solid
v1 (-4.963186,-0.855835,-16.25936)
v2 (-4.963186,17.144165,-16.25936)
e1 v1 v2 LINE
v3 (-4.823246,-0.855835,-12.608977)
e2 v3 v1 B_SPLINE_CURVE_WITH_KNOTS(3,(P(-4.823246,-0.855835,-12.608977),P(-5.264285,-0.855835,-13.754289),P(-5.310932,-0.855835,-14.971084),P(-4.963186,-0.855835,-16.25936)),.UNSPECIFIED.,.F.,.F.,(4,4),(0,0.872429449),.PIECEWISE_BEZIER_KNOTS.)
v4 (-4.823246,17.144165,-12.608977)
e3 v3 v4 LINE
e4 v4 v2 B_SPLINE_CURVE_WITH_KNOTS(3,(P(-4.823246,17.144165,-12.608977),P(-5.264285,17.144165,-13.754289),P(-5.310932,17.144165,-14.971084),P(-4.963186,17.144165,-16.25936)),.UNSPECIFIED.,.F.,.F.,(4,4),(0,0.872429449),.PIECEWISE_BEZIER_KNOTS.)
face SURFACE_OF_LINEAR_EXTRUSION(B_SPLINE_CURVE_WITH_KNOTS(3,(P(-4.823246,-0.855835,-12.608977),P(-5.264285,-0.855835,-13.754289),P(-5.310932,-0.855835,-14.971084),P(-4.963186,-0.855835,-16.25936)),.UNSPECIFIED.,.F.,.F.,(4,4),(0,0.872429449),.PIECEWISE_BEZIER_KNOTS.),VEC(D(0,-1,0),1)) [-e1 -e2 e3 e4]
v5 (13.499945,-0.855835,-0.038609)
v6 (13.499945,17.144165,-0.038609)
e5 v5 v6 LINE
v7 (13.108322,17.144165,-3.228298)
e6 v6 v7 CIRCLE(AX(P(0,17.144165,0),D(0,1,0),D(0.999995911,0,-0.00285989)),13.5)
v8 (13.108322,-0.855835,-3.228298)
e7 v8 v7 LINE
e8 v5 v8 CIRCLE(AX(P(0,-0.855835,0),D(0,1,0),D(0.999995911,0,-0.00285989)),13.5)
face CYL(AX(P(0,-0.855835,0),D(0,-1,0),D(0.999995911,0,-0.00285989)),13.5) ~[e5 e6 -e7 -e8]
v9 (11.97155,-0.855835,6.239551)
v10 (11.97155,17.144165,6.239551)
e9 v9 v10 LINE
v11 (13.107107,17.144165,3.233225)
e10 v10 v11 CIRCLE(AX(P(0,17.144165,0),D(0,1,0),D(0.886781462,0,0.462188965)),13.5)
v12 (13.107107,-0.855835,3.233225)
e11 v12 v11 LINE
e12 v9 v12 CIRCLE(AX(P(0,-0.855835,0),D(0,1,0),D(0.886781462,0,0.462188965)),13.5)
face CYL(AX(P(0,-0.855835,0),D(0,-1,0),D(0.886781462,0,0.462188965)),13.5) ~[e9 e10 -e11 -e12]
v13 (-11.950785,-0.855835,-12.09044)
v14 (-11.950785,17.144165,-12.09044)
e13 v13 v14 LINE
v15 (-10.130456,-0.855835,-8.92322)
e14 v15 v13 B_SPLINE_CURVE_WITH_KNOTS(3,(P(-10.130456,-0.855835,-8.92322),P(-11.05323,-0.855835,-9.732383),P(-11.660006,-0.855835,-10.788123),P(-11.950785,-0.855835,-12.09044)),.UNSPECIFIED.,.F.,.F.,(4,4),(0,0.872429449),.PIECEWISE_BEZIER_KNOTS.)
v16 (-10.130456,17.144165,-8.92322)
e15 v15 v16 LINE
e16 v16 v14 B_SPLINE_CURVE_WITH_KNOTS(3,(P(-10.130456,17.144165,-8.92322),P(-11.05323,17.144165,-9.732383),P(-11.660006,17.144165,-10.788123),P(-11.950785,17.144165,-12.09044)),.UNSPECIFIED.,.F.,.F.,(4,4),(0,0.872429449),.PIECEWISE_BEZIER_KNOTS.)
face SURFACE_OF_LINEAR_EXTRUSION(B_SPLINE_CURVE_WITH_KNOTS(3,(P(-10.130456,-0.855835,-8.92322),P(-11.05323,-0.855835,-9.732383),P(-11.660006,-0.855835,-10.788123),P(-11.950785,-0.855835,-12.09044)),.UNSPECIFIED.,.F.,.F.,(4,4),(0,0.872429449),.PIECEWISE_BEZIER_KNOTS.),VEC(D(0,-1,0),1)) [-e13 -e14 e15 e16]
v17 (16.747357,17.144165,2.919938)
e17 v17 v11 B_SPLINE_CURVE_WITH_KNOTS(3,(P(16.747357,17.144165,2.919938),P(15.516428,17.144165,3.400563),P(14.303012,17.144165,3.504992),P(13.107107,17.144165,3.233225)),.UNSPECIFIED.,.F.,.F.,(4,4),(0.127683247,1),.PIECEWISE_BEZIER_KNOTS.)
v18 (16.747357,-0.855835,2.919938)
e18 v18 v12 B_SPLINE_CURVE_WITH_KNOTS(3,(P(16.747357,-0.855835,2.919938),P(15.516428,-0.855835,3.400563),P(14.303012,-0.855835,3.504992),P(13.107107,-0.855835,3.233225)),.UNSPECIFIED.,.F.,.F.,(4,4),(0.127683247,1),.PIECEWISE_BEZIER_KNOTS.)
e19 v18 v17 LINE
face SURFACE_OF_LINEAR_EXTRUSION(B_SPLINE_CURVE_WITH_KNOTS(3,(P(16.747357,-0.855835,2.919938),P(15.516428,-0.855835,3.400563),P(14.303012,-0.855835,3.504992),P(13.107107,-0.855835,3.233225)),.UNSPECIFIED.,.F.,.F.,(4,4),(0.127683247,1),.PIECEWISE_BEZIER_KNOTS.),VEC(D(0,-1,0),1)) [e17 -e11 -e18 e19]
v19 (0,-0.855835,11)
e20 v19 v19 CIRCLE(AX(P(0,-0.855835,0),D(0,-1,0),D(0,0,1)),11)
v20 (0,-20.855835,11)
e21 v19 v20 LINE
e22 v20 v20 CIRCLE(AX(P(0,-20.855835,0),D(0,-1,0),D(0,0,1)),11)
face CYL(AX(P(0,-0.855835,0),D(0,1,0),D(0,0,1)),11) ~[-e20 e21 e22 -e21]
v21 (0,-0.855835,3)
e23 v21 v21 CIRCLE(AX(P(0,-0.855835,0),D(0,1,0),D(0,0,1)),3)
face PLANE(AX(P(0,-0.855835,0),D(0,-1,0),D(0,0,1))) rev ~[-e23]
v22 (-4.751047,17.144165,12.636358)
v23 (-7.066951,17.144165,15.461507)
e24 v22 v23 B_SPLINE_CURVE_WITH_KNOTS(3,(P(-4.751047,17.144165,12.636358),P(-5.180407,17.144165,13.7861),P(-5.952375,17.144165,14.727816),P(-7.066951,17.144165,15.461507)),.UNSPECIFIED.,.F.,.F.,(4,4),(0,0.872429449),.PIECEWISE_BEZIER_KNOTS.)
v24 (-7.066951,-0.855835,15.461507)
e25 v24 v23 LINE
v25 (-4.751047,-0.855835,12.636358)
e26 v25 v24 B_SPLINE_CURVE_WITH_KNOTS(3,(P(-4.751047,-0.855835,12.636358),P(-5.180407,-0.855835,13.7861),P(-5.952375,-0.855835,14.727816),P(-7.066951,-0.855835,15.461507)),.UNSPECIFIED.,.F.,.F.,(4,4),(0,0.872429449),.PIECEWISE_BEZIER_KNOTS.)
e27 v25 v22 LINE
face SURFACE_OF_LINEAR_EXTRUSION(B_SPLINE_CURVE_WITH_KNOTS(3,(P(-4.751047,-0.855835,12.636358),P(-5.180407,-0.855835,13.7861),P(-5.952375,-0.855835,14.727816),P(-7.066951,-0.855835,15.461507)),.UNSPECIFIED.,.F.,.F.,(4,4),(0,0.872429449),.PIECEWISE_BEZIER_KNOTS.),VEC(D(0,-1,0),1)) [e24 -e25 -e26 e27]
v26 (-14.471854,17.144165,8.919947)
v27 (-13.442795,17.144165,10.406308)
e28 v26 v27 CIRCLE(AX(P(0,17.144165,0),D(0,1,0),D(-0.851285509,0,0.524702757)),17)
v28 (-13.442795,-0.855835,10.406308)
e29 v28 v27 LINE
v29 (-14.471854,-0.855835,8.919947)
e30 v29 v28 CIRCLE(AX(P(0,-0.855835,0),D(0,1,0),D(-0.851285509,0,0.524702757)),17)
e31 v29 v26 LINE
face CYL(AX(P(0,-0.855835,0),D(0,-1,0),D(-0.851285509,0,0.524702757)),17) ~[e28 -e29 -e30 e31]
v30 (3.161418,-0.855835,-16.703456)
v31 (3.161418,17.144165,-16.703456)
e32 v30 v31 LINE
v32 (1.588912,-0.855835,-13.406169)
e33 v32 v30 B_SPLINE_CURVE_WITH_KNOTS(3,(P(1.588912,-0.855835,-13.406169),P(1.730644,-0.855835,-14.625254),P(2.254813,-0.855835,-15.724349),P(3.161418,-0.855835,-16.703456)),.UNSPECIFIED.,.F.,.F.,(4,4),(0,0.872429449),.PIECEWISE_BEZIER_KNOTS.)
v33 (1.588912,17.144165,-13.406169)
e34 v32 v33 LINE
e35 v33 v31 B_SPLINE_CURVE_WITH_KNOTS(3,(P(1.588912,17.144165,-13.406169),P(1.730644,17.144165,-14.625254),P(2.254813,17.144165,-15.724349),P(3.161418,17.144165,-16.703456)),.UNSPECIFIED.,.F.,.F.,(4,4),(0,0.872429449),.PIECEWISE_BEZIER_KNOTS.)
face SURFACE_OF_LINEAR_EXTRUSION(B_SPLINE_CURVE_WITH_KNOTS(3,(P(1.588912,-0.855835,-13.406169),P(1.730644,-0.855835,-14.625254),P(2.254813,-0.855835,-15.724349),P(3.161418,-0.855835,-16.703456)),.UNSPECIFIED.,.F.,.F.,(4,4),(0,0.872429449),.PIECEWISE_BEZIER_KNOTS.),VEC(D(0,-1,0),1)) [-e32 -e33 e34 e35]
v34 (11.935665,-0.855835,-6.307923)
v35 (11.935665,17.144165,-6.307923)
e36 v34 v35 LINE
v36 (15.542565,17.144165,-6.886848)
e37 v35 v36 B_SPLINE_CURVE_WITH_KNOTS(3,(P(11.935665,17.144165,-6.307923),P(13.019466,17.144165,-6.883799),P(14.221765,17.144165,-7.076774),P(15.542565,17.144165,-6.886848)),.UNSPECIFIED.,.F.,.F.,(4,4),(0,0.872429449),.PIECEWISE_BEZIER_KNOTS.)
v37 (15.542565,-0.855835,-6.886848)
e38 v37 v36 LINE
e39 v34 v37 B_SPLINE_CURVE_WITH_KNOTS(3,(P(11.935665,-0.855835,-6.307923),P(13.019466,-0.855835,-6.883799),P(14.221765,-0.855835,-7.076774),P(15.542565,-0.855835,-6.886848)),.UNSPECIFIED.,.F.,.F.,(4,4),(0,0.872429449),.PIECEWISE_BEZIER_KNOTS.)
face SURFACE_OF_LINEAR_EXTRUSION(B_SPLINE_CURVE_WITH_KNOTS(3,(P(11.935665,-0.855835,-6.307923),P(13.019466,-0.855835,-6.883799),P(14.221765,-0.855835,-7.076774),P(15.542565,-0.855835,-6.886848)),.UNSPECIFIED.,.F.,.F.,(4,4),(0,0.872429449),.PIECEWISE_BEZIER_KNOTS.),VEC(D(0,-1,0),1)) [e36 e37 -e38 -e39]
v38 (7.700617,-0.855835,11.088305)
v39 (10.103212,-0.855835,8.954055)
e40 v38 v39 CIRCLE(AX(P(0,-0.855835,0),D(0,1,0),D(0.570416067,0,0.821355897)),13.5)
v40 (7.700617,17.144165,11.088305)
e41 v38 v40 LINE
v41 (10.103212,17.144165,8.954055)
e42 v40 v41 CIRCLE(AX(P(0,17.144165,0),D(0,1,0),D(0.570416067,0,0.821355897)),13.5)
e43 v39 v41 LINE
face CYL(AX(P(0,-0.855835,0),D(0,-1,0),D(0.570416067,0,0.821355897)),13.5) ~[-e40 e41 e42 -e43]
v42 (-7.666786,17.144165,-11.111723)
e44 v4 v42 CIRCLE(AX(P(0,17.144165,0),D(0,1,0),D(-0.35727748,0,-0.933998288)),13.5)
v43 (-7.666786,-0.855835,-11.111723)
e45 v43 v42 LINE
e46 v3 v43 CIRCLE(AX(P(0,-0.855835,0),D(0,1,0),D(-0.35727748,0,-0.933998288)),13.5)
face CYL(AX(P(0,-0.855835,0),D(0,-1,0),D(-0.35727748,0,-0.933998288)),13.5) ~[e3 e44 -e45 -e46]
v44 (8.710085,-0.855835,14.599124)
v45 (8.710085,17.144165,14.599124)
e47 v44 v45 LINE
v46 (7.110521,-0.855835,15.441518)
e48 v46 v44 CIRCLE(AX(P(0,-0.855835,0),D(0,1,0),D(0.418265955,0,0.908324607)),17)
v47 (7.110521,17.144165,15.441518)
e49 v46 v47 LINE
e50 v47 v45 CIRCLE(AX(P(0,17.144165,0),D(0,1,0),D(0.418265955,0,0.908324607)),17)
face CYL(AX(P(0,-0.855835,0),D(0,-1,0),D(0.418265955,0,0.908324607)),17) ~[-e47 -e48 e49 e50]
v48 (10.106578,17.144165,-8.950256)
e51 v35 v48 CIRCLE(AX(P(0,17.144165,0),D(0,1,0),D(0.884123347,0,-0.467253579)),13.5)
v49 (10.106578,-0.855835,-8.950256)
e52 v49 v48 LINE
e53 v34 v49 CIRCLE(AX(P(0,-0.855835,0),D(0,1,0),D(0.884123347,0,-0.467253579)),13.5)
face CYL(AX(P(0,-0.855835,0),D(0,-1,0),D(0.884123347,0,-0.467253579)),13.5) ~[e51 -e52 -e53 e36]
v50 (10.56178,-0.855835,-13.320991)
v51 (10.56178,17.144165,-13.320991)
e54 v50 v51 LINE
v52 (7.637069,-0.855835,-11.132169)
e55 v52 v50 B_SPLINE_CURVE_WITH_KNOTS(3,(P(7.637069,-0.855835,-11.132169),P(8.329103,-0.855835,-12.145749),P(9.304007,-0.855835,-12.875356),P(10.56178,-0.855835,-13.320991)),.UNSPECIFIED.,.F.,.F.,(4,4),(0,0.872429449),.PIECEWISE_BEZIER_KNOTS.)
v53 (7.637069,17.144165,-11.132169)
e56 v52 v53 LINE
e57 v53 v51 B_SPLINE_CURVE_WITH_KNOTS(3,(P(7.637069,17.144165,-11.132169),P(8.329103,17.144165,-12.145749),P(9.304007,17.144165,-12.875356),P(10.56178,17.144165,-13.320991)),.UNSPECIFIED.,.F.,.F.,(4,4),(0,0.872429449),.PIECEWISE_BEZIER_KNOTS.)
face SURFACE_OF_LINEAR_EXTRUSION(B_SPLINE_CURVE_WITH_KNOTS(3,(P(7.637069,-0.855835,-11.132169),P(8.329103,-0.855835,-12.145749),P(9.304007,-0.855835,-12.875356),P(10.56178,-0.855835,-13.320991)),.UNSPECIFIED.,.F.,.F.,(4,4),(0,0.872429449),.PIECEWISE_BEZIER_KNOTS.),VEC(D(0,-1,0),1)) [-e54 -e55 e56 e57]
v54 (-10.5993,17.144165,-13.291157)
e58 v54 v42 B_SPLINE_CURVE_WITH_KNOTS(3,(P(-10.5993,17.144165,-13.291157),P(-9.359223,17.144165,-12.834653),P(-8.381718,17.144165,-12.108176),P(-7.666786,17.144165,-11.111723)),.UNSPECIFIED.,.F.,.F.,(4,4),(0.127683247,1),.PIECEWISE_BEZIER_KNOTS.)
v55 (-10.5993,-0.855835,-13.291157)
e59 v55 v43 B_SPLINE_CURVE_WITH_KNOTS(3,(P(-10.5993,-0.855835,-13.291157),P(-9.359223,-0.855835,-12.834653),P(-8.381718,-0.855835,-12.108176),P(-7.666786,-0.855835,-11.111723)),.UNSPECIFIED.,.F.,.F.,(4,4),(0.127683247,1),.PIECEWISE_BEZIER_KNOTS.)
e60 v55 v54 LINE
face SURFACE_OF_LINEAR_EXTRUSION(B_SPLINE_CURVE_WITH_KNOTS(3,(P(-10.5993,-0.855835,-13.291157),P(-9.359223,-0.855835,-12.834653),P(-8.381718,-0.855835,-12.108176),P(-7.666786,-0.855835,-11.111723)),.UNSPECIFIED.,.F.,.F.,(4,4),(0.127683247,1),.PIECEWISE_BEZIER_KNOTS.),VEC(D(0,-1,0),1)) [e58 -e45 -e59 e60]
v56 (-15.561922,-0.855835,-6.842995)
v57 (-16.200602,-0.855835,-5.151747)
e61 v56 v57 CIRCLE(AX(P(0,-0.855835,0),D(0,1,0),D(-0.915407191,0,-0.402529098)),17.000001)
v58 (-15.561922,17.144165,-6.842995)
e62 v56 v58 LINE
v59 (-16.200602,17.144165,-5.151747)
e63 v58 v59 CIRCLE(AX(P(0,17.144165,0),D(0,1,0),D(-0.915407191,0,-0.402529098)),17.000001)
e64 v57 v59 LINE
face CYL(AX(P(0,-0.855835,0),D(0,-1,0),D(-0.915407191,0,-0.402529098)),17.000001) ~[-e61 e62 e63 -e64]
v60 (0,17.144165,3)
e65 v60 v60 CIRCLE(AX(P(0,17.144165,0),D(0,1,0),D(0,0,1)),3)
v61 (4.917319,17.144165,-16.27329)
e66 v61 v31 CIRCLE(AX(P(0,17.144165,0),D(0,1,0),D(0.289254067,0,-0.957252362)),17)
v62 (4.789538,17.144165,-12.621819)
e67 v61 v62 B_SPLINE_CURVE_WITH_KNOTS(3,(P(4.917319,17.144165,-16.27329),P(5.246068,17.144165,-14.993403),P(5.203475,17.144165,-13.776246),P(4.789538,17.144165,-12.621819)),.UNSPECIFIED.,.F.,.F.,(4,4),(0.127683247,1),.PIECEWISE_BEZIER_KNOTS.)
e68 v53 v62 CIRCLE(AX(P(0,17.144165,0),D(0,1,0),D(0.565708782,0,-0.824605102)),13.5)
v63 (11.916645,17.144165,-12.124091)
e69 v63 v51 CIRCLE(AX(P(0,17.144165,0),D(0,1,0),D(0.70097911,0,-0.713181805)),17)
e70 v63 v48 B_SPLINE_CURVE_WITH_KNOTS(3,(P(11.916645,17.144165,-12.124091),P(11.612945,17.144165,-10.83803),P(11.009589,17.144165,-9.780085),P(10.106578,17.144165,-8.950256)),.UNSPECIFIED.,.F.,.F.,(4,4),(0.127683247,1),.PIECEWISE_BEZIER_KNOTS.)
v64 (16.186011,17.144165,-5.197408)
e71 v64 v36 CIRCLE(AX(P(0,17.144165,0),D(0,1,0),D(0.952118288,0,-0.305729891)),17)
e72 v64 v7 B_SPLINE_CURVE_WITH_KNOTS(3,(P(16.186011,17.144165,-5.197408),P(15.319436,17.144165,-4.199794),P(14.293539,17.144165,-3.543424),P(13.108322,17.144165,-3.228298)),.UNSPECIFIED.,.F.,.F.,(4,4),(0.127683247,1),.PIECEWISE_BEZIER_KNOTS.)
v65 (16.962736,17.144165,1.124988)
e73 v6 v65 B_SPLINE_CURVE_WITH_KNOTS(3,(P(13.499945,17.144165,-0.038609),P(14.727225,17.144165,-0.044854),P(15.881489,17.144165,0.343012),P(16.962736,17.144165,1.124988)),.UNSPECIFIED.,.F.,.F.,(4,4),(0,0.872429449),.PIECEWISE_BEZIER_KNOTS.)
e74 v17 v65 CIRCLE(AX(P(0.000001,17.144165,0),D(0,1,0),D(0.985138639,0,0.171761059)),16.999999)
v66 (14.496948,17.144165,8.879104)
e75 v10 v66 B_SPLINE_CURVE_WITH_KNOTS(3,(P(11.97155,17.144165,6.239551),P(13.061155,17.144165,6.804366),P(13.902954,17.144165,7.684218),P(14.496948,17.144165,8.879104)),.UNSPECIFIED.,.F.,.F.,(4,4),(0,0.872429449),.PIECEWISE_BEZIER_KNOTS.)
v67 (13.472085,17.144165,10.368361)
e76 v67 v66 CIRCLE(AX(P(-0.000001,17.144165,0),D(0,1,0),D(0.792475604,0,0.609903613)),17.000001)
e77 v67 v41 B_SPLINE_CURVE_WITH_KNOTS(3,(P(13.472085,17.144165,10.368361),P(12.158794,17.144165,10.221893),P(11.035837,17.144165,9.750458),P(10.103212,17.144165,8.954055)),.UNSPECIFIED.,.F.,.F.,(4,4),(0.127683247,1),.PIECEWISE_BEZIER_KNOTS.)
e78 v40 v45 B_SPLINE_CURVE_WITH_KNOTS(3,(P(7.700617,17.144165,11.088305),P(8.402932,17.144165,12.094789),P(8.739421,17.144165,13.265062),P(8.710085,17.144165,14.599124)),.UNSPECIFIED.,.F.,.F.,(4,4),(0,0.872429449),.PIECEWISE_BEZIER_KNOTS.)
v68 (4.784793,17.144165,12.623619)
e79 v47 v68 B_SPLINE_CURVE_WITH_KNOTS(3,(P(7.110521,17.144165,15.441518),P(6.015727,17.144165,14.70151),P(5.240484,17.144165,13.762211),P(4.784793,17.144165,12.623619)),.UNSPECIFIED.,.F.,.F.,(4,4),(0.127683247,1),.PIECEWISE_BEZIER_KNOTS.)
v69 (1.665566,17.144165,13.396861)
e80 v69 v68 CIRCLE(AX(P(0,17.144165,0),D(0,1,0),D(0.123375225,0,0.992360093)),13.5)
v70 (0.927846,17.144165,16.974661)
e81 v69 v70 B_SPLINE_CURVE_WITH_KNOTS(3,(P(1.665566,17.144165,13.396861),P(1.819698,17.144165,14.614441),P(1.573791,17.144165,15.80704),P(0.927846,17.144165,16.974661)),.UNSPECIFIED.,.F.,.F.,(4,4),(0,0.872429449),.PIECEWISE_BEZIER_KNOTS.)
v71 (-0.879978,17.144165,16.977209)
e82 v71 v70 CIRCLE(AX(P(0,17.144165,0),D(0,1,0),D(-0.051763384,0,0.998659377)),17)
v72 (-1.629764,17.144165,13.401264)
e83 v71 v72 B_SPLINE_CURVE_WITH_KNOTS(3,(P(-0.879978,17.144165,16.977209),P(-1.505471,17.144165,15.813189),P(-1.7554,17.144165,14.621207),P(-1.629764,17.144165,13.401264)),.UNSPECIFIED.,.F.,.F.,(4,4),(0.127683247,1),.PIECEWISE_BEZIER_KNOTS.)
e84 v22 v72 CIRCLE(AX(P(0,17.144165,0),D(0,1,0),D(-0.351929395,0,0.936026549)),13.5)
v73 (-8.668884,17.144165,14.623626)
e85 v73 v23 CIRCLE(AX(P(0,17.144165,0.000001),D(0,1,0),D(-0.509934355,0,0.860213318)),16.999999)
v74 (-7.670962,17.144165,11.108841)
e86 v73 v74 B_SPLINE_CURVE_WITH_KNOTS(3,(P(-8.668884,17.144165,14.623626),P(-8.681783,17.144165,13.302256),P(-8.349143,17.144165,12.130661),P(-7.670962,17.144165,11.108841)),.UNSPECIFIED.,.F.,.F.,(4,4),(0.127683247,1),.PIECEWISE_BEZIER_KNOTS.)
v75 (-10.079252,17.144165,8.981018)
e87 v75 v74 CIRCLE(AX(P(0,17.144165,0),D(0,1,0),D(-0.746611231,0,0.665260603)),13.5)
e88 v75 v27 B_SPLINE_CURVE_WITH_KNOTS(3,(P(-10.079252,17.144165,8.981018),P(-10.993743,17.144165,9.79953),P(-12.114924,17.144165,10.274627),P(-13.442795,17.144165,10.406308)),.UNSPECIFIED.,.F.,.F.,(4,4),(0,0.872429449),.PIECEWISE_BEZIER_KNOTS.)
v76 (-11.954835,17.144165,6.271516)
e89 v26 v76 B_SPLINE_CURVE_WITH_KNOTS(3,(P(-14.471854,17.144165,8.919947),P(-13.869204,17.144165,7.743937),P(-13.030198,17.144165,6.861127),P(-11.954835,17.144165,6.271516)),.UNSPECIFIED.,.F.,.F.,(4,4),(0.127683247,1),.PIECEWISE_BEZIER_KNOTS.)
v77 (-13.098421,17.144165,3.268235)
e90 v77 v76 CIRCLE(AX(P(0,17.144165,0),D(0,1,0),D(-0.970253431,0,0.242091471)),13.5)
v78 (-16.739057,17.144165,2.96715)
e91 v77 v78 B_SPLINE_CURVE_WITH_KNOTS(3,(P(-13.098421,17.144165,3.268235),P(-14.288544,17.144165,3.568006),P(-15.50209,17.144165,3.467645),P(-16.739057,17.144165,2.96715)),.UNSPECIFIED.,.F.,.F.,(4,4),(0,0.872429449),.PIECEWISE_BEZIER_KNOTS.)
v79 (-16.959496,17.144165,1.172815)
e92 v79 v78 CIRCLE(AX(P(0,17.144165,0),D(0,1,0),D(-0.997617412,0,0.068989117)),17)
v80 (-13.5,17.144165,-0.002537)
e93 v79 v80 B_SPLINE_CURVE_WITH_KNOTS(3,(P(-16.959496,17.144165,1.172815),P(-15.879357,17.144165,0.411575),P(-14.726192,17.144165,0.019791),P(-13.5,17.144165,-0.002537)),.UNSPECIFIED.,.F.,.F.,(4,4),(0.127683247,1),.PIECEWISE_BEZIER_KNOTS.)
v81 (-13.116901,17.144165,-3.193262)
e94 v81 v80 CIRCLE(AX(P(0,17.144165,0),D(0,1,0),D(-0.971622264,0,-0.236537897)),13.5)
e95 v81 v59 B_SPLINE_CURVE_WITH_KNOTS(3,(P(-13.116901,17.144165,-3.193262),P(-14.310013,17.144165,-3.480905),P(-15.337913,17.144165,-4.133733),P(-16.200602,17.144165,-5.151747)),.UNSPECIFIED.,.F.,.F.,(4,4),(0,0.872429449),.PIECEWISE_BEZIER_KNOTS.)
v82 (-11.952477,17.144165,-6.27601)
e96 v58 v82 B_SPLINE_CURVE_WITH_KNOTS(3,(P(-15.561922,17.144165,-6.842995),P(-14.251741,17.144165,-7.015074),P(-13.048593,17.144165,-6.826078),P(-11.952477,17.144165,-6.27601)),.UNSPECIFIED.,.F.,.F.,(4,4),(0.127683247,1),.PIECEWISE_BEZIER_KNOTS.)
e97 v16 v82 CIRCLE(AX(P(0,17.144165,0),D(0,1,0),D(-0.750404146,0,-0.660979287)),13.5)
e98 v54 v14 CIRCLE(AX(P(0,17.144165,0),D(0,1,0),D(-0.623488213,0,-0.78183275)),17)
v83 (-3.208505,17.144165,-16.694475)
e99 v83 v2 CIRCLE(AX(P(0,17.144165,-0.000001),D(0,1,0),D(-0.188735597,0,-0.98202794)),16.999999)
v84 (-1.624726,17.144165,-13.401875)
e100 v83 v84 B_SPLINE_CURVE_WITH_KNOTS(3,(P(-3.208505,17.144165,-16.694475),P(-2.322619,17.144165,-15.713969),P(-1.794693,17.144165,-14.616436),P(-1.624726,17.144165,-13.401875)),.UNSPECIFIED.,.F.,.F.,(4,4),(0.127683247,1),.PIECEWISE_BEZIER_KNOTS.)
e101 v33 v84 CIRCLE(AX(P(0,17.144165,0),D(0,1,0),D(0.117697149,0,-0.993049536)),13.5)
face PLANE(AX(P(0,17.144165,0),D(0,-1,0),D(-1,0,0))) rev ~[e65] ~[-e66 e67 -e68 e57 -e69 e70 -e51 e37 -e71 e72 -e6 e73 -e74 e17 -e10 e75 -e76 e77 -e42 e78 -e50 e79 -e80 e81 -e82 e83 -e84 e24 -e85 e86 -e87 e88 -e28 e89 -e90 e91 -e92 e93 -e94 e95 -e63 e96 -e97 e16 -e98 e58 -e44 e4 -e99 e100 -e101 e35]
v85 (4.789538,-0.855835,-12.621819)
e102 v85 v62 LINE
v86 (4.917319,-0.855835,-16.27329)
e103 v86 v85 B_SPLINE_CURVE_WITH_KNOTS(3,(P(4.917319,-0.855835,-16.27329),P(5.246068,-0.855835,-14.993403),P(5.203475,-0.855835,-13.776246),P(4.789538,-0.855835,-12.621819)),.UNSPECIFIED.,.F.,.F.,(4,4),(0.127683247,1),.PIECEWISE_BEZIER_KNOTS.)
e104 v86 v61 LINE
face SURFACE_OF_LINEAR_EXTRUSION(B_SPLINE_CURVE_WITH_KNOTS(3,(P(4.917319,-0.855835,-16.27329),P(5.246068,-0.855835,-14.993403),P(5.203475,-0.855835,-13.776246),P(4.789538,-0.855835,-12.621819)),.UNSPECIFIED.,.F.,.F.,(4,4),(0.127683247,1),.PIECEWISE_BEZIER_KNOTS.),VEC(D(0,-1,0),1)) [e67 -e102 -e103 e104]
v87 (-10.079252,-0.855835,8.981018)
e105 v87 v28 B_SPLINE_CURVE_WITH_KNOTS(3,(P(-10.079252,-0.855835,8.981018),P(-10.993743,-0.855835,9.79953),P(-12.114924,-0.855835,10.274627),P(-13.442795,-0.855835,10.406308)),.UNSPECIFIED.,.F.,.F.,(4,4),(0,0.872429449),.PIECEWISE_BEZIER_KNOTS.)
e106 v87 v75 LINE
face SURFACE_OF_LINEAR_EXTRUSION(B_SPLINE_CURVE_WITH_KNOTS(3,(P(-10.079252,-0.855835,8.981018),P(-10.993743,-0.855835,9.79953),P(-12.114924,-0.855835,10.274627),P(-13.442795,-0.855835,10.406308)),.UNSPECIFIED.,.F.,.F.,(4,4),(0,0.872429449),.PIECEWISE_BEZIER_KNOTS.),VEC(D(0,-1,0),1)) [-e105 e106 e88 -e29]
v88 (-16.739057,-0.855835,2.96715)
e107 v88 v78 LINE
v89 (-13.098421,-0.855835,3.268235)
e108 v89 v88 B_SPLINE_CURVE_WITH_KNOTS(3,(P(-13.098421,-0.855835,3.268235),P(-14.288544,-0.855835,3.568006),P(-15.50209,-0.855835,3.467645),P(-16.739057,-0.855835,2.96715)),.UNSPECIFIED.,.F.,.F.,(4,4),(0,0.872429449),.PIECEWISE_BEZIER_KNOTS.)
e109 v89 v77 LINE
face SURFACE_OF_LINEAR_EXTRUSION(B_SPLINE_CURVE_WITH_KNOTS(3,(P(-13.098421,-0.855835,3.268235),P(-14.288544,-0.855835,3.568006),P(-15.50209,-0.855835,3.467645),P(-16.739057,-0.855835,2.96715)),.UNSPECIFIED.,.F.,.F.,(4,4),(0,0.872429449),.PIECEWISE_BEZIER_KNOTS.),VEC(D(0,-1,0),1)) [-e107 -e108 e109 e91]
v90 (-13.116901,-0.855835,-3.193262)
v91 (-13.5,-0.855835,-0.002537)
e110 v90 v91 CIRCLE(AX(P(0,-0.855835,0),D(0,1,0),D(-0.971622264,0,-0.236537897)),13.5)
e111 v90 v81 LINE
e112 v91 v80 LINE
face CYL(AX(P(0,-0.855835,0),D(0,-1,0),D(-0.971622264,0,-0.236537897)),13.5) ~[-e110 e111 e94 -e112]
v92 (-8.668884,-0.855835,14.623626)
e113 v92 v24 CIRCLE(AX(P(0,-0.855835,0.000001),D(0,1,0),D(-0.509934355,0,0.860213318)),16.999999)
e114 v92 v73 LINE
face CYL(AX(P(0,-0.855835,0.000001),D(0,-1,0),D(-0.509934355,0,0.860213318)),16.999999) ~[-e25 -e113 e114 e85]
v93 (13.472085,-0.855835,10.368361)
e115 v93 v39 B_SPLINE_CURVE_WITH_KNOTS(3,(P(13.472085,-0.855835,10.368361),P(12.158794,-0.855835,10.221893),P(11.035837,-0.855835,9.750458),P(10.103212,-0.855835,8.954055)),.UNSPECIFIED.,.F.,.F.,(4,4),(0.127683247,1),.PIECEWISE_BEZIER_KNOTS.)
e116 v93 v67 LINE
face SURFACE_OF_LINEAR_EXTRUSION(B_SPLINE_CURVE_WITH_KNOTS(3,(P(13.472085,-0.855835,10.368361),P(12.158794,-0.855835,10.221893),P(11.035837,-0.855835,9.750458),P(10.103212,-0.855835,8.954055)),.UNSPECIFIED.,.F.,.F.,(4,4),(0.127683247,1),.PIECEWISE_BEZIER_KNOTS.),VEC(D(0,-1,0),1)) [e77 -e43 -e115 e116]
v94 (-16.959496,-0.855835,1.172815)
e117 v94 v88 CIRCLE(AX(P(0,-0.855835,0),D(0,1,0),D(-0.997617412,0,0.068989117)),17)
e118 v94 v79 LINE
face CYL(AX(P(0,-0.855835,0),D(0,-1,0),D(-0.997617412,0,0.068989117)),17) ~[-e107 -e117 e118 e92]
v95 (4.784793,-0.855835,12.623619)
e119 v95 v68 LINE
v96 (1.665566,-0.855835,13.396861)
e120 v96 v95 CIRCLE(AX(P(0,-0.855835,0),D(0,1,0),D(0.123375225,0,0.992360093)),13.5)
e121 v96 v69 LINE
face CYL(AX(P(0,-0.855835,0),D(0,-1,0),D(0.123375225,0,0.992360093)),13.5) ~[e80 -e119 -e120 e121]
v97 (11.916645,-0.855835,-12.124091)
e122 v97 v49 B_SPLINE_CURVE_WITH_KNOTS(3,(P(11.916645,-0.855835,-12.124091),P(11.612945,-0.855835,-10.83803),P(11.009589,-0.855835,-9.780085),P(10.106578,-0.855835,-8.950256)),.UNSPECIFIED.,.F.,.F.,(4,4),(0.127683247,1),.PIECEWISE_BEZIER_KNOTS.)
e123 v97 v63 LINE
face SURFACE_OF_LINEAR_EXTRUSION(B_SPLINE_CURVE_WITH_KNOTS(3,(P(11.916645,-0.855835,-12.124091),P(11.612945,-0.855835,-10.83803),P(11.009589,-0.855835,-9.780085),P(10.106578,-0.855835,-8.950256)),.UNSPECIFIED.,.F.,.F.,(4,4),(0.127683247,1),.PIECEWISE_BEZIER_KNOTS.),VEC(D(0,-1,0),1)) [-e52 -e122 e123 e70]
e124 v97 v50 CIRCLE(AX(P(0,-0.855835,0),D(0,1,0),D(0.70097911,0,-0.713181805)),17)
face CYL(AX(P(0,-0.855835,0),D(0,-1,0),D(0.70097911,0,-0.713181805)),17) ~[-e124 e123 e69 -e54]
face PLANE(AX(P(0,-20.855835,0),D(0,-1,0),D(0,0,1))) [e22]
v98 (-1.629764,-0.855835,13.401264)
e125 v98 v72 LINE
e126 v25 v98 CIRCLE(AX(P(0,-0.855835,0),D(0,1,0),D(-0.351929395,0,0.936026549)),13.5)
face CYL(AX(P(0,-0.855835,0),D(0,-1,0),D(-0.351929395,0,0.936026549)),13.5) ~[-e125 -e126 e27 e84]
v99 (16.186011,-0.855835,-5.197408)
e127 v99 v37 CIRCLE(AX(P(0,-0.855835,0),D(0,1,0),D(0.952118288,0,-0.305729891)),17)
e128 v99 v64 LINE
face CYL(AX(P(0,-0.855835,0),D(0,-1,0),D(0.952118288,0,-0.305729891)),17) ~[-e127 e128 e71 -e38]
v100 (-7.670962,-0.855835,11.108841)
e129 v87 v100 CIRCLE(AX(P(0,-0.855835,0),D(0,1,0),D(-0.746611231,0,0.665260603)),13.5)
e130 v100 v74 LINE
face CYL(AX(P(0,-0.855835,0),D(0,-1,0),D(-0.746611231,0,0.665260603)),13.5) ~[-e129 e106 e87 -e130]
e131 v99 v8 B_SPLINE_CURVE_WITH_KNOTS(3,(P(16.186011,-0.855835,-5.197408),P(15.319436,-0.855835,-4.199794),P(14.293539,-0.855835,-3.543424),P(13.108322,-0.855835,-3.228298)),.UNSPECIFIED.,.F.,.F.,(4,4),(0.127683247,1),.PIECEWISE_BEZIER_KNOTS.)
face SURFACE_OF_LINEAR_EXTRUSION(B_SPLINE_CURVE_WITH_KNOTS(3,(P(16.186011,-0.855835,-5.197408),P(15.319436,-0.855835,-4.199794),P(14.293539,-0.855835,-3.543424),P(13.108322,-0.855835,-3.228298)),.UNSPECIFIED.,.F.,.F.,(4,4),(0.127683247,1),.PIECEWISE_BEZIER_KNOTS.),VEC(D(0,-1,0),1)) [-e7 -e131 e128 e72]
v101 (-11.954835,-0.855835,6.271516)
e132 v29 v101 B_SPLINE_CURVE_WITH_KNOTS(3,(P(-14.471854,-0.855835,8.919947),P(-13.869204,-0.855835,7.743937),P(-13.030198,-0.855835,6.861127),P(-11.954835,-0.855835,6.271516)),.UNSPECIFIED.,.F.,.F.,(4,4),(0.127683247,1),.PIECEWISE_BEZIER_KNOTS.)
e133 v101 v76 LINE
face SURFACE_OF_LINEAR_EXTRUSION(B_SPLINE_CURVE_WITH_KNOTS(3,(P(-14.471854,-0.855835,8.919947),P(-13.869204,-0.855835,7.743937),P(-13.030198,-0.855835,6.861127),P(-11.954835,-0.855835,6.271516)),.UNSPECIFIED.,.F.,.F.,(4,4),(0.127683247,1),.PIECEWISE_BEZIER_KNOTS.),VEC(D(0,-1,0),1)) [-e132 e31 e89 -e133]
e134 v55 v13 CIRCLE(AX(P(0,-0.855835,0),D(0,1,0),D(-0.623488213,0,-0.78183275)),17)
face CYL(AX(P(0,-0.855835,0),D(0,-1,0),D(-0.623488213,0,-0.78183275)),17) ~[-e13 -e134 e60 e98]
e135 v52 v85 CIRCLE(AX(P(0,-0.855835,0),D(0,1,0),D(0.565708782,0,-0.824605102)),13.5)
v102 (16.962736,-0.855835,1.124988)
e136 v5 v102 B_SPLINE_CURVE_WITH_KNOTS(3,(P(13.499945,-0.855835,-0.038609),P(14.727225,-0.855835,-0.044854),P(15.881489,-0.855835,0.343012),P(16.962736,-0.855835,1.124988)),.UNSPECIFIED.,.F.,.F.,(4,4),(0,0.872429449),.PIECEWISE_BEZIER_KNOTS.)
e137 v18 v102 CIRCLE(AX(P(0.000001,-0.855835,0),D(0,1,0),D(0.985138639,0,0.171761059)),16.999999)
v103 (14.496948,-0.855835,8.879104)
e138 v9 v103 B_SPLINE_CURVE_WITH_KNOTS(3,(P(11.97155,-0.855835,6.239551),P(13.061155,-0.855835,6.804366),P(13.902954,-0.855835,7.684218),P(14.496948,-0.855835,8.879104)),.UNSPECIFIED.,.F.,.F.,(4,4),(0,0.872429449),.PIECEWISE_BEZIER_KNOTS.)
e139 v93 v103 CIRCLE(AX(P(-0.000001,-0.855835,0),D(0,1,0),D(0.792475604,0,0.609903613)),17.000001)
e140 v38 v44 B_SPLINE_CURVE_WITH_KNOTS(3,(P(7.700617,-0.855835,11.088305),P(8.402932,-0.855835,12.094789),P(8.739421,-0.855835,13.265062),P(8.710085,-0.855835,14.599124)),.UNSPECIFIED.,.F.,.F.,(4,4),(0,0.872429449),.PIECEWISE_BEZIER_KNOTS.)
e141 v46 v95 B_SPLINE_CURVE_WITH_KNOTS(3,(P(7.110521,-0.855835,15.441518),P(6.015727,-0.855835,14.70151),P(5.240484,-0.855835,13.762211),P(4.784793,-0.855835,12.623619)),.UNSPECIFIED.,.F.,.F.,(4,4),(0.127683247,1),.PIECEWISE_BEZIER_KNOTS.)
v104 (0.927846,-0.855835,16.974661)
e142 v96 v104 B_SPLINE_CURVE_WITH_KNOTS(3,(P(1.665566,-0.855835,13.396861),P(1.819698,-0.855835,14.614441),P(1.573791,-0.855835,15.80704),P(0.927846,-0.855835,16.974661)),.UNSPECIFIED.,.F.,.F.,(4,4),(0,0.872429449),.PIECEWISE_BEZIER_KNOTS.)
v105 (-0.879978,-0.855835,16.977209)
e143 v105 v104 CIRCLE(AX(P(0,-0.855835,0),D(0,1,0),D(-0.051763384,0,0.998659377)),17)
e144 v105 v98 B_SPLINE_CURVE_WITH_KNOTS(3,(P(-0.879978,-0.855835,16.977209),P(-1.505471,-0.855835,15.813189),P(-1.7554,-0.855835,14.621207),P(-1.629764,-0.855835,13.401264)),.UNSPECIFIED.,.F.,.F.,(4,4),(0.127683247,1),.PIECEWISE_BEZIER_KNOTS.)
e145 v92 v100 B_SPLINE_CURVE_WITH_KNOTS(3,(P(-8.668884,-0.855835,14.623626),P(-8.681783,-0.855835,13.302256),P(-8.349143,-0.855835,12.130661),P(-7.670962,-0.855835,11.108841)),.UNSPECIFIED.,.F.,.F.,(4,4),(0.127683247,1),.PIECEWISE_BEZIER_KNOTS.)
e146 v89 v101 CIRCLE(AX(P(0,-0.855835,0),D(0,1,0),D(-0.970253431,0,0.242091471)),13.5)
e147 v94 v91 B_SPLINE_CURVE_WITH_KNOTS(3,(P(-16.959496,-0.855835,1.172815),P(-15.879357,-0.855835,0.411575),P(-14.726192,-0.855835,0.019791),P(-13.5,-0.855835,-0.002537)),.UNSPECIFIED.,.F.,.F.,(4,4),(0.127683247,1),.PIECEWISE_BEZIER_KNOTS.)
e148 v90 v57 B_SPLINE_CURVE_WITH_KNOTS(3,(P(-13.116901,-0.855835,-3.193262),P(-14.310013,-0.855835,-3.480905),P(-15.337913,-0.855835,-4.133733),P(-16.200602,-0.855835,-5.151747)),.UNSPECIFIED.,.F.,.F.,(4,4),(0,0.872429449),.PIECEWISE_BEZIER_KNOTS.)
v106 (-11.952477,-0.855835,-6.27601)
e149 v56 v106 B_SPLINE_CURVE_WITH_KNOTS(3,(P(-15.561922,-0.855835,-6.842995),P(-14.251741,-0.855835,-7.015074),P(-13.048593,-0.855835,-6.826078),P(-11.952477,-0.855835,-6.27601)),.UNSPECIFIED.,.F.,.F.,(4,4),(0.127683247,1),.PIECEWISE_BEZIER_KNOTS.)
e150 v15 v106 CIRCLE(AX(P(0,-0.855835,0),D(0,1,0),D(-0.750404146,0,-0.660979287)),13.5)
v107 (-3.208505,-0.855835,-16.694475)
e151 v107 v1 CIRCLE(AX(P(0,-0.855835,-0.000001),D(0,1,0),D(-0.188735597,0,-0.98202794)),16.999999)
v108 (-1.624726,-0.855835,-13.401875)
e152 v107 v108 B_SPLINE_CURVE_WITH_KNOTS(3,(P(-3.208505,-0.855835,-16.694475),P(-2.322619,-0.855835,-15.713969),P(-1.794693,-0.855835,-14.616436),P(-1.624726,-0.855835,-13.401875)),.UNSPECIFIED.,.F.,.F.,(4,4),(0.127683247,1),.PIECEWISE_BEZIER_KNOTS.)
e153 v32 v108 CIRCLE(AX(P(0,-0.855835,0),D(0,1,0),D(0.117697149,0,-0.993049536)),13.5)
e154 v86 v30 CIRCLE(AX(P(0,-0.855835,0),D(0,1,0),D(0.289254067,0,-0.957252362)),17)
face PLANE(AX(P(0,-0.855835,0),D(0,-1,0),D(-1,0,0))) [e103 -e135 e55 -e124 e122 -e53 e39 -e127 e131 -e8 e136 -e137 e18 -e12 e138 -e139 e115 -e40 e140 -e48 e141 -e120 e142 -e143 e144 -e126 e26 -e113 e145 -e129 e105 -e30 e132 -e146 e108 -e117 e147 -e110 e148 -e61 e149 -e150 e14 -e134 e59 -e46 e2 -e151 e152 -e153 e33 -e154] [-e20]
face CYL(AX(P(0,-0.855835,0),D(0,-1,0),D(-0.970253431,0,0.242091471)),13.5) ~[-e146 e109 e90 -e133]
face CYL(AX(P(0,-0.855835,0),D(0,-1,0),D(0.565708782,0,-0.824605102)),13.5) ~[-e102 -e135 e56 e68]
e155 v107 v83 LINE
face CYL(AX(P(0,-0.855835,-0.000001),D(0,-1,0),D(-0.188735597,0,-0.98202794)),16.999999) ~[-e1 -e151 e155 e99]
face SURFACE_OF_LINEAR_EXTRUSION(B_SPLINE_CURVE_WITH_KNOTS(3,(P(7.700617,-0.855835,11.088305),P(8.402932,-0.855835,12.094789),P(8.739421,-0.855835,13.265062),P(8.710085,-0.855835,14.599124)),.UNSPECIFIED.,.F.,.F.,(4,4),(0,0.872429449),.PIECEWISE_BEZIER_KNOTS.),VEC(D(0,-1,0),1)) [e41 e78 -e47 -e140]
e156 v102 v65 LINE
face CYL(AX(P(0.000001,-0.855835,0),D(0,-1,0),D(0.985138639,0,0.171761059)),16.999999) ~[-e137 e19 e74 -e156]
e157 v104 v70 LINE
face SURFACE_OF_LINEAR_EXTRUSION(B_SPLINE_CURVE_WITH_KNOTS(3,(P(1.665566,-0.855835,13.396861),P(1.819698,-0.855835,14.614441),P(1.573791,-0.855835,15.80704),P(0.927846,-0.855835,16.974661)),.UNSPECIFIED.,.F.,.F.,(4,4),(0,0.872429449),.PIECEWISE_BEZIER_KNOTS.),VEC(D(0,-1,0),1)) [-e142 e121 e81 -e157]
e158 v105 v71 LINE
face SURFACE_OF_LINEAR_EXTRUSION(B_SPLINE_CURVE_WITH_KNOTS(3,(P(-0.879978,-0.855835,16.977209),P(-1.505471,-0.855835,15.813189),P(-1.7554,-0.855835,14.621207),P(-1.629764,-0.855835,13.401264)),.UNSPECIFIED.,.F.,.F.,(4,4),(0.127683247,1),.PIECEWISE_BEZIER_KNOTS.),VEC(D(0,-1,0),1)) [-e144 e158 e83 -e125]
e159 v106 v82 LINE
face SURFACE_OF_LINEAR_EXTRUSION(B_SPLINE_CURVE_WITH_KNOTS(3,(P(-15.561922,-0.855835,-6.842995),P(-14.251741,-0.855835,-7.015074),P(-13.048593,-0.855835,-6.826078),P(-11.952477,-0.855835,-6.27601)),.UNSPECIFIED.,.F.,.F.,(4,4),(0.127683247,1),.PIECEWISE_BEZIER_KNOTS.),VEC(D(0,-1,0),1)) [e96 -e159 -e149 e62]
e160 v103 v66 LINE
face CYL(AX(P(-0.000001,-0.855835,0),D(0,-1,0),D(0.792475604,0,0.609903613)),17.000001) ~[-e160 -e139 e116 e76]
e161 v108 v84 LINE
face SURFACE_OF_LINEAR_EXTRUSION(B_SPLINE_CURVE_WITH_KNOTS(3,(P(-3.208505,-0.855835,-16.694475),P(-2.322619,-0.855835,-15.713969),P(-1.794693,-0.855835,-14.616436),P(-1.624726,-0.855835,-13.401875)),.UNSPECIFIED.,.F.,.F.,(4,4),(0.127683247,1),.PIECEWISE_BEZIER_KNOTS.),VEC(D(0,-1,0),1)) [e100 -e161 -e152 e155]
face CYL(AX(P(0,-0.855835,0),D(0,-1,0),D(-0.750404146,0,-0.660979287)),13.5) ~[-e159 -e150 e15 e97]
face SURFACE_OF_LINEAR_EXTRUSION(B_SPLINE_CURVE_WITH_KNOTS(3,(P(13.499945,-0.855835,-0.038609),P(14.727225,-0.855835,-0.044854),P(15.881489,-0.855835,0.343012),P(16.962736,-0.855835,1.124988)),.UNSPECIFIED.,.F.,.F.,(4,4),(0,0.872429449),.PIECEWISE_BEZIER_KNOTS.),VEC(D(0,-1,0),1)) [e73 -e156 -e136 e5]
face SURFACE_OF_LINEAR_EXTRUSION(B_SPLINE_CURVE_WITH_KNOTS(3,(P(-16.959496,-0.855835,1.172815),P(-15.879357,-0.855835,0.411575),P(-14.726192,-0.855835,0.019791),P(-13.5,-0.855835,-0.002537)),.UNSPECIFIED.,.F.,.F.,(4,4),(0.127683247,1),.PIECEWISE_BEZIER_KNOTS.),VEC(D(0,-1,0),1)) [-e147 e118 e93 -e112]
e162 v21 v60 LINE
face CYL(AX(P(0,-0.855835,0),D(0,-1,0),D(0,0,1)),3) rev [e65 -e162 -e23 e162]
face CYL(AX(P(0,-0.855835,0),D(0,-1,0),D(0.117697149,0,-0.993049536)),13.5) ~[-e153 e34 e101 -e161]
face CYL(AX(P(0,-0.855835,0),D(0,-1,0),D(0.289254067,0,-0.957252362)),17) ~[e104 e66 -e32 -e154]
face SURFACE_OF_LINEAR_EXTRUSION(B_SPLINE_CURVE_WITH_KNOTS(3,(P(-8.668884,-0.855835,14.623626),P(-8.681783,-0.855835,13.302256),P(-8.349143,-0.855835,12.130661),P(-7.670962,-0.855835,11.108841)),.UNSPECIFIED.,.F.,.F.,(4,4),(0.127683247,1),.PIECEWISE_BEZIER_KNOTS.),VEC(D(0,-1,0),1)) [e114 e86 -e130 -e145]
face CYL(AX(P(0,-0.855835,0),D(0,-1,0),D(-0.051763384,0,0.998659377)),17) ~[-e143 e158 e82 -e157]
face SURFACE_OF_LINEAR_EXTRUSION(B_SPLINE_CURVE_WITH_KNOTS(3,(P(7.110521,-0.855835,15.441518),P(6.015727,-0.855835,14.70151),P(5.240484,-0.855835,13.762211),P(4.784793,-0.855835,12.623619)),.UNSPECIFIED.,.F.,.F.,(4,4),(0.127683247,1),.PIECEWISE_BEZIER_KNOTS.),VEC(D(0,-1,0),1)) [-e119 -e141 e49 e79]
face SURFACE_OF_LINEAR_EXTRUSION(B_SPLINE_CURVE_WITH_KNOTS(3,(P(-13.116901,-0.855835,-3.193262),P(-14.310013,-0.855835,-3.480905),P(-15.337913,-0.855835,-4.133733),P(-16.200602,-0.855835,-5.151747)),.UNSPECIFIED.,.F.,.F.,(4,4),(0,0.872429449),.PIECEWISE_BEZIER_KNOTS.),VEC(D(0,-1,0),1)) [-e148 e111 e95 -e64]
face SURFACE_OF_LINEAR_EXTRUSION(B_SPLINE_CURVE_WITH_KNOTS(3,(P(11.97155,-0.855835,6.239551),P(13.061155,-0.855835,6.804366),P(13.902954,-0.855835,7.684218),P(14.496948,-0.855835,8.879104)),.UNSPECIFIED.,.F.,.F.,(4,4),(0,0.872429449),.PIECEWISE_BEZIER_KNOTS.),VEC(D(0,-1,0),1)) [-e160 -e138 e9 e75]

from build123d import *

# Parameters (mm, degrees)
SKETCH1_R           = 1.5
BOSS_EXTRUDE1_DEPTH = 9
SKETCH2_R           = 5.5
BOSS_EXTRUDE2_DEPTH = 10
L_EK2_SCALE         = 2


with BuildPart() as part:
    # Sketch1 → Boss-Extrude1 (new body)
    with BuildSketch(Plane(origin=(0, 0, 0), x_dir=(1, 0, 0), z_dir=(0, 1, 0))):
        with BuildLine():
            add(Edge.make_bspline(
                [(-5.065227978, 4.461610195), (-5.526615005, 4.86619147), (-5.830003112, 5.39406146), (-5.975392301, 6.045220165)],
                knots=[0, 0, 0, 0, 0.872429449, 0.872429449, 0.872429449, 0.872429449], degree=3))
            ThreePointArc((-5.065227978, 4.461610195), (-5.560258819, 3.827012132), (-5.976238464, 3.138004752))
            add(Edge.make_bspline(
                [(-7.780961116, 3.42149735), (-7.125870497, 3.507536778), (-6.52429628, 3.413039245), (-5.976238464, 3.138004752)],
                knots=[0.127683247, 0.127683247, 0.127683247, 0.127683247, 1, 1, 1, 1], degree=3))
            ThreePointArc((-7.780961116, 3.42149735), (-7.951879756, 3.00293329), (-8.10030101, 2.575873357))
            add(Edge.make_bspline(
                [(-6.558450277, 1.596630818), (-7.155006493, 1.740452504), (-7.668956737, 2.066866683), (-8.10030101, 2.575873357)],
                knots=[0, 0, 0, 0, 0.872429449, 0.872429449, 0.872429449, 0.872429449], degree=3))
            ThreePointArc((-6.558450277, 1.596630818), (-6.701865893, 0.804669837), (-6.749999881, 0.00126872))
            add(Edge.make_bspline(
                [(-8.479748007, -0.586407486), (-7.939678588, -0.205787566), (-7.363095879, -0.009895497), (-6.749999881, 0.00126872)],
                knots=[0.127683247, 0.127683247, 0.127683247, 0.127683247, 1, 1, 1, 1], degree=3))
            ThreePointArc((-8.479748007, -0.586407486), (-8.436572529, -1.036457408), (-8.369528376, -1.483574994))
            add(Edge.make_bspline(
                [(-6.549210655, -1.634117437), (-7.144272221, -1.784003157), (-7.751044795, -1.733822342), (-8.369528376, -1.483574994)],
                knots=[0, 0, 0, 0, 0.872429449, 0.872429449, 0.872429449, 0.872429449], degree=3))
            ThreePointArc((-6.549210655, -1.634117437), (-6.308156258, -2.402012621), (-5.977417671, -3.13575796))
            add(Edge.make_bspline(
                [(-7.235926822, -4.459973434), (-6.934601997, -3.871968458), (-6.515098947, -3.4305633), (-5.977417671, -3.13575796)],
                knots=[0.127683247, 0.127683247, 0.127683247, 0.127683247, 1, 1, 1, 1], degree=3))
            ThreePointArc((-7.235926822, -4.459973434), (-6.988548208, -4.838408204), (-6.721397655, -5.203154193))
            add(Edge.make_bspline(
                [(-5.039625799, -4.490509081), (-5.496871281, -4.899765193), (-6.0574619, -5.137313564), (-6.721397655, -5.203154193)],
                knots=[0, 0, 0, 0, 0.872429449, 0.872429449, 0.872429449, 0.872429449], degree=3))
            ThreePointArc((-5.039625799, -4.490509081), (-4.469324045, -5.058422935), (-3.835481109, -5.554420281))
            add(Edge.make_bspline(
                [(-4.334442004, -7.311813216), (-4.34089166, -6.651128039), (-4.174571361, -6.065330394), (-3.835481109, -5.554420281)],
                knots=[0.127683247, 0.127683247, 0.127683247, 0.127683247, 1, 1, 1, 1], degree=3))
            ThreePointArc((-4.334442004, -7.311813216), (-3.939531713, -7.53193799), (-3.533475733, -7.730753472))
            add(Edge.make_bspline(
                [(-2.375523406, -6.318179211), (-2.590203375, -6.893050073), (-2.976187484, -7.36390816), (-3.533475733, -7.730753472)],
                knots=[0, 0, 0, 0, 0.872429449, 0.872429449, 0.872429449, 0.872429449], degree=3))
            ThreePointArc((-2.375523406, -6.318179211), (-1.606623554, -6.556009515), (-0.814882047, -6.700631854))
            add(Edge.make_bspline(
                [(-0.439988759, -8.488604708), (-0.752735357, -7.906594341), (-0.877699786, -7.31060339), (-0.814882047, -6.700631854)],
                knots=[0.127683247, 0.127683247, 0.127683247, 0.127683247, 1, 1, 1, 1], degree=3))
            ThreePointArc((-0.439988759, -8.488604708), (0.011984021, -8.499991552), (0.463922896, -8.487330296))
            add(Edge.make_bspline(
                [(0.832782771, -6.698430626), (0.909848909, -7.307220251), (0.786895617, -7.903520141), (0.463922896, -8.487330296)],
                knots=[0, 0, 0, 0, 0.872429449, 0.872429449, 0.872429449, 0.872429449], degree=3))
            ThreePointArc((0.832782771, -6.698430626), (1.624135031, -6.551693323), (2.392396671, -6.311809421))
            add(Edge.make_bspline(
                [(3.555260608, -7.72075916), (3.007863545, -7.350755165), (2.620242233, -6.881105252), (2.392396671, -6.311809421)],
                knots=[0.127683247, 0.127683247, 0.127683247, 0.127683247, 1, 1, 1, 1], degree=3))
            ThreePointArc((3.555260608, -7.72075916), (3.96075436, -7.520799485), (4.355042381, -7.299562032))
            add(Edge.make_bspline(
                [(3.850308451, -5.54415231), (4.201465773, -6.047394331), (4.369710416, -6.632530905), (4.355042381, -7.299562032)],
                knots=[0, 0, 0, 0, 0.872429449, 0.872429449, 0.872429449, 0.872429449], degree=3))
            ThreePointArc((3.850308451, -5.54415231), (4.482823853, -5.046463148), (5.051606144, -4.477027515))
            add(Edge.make_bspline(
                [(6.736042616, -5.184180734), (6.079397157, -5.110946566), (5.517918333, -4.875228826), (5.051606144, -4.477027515)],
                knots=[0.127683247, 0.127683247, 0.127683247, 0.127683247, 1, 1, 1, 1], degree=3))
            ThreePointArc((6.736042616, -5.184180734), (7.002163607, -4.818682892), (7.24847414, -4.439552076))
            add(Edge.make_bspline(
                [(5.985774866, -3.119775513), (6.530577461, -3.402183249), (6.951477219, -3.84210877), (7.24847414, -4.439552076)],
                knots=[0, 0, 0, 0, 0.872429449, 0.872429449, 0.872429449, 0.872429449], degree=3))
            ThreePointArc((5.985774866, -3.119775513), (6.314551754, -2.385149082), (6.553553527, -1.616612559))
            add(Edge.make_bspline(
                [(8.373678438, -1.459968977), (7.758214146, -1.700281702), (7.151505842, -1.75249623), (6.553553527, -1.616612559)],
                knots=[0.127683247, 0.127683247, 0.127683247, 0.127683247, 1, 1, 1, 1], degree=3))
            ThreePointArc((8.373678438, -1.459968977), (8.439461558, -1.01266412), (8.481367828, -0.562494242))
            add(Edge.make_bspline(
                [(6.749972396, 0.019304256), (7.363612555, 0.022427015), (7.940744366, -0.171505818), (8.481367828, -0.562494242)],
                knots=[0, 0, 0, 0, 0.872429449, 0.872429449, 0.872429449, 0.872429449], degree=3))
            ThreePointArc((6.749972396, 0.019304256), (6.699691947, 0.822573894), (6.554160776, 1.614148852))
            add(Edge.make_bspline(
                [(8.093005444, 2.598704077), (7.65971777, 2.099897208), (7.146769547, 1.771712133), (6.554160776, 1.614148852)],
                knots=[0.127683247, 0.127683247, 0.127683247, 0.127683247, 1, 1, 1, 1], degree=3))
            ThreePointArc((8.093005444, 2.598704077), (7.943380571, 3.025343799), (7.771282357, 3.443424244))
            add(Edge.make_bspline(
                [(5.967832596, 3.153961653), (6.509732754, 3.44189952), (7.110882674, 3.53838705), (7.771282357, 3.443424244)],
                knots=[0, 0, 0, 0, 0.872429449, 0.872429449, 0.872429449, 0.872429449], degree=3))
            ThreePointArc((5.967832596, 3.153961653), (5.550013455, 3.841855105), (5.053288778, 4.475128213))
            add(Edge.make_bspline(
                [(5.958322434, 6.062045345), (5.806472362, 5.419014975), (5.504794477, 4.890042598), (5.053288778, 4.475128213)],
                knots=[0.127683247, 0.127683247, 0.127683247, 0.127683247, 1, 1, 1, 1], degree=3))
            ThreePointArc((5.958322434, 6.062045345), (5.627566824, 6.370281912), (5.280889753, 6.660495734))
            add(Edge.make_bspline(
                [(3.818534268, 5.566084444), (4.16455163, 6.072874324), (4.652003458, 6.437678087), (5.280889753, 6.660495734)],
                knots=[0, 0, 0, 0, 0.872429449, 0.872429449, 0.872429449, 0.872429449], degree=3))
            ThreePointArc((3.818534268, 5.566084444), (3.128893766, 5.98101361), (2.394769219, 6.310909632))
            add(Edge.make_bspline(
                [(2.45865956, 8.136645081), (2.623034112, 7.496701718), (2.601737332, 6.888123235), (2.394769219, 6.310909632)],
                knots=[0.127683247, 0.127683247, 0.127683247, 0.127683247, 1, 1, 1, 1], degree=3))
            ThreePointArc((2.45865956, 8.136645081), (2.022545337, 8.25586521), (1.580708948, 8.351727918))
            add(Edge.make_bspline(
                [(0.794455758, 6.703084368), (0.865321915, 7.312626807), (1.127406312, 7.862174657), (1.580708948, 8.351727918)],
                knots=[0, 0, 0, 0, 0.872429449, 0.872429449, 0.872429449, 0.872429449], degree=3))
            ThreePointArc((0.794455758, 6.703084368), (-0.009017778, 6.749993976), (-0.812363108, 6.700937709))
            add(Edge.make_bspline(
                [(-1.604252589, 8.347237485), (-1.161309642, 7.856984441), (-0.897346481, 7.308217849), (-0.812363108, 6.700937709)],
                knots=[0.127683247, 0.127683247, 0.127683247, 0.127683247, 1, 1, 1, 1], degree=3))
            ThreePointArc((-1.604252589, 8.347237485), (-2.045816912, 8.250129282), (-2.481593228, 8.129679886))
            add(Edge.make_bspline(
                [(-2.411622992, 6.304488444), (-2.632142622, 6.877144615), (-2.655466033, 7.485541762), (-2.481593228, 8.129679886)],
                knots=[0, 0, 0, 0, 0.872429449, 0.872429449, 0.872429449, 0.872429449], degree=3))
            ThreePointArc((-2.411622992, 6.304488444), (-3.144863458, 5.972632069), (-3.833392837, 5.555861712))
            add(Edge.make_bspline(
                [(-5.299649804, 6.645578377), (-4.679611352, 6.417326717), (-4.19085903, 6.054087828), (-3.833392837, 5.555861712)],
                knots=[0.127683247, 0.127683247, 0.127683247, 0.127683247, 1, 1, 1, 1], degree=3))
            ThreePointArc((-5.299649804, 6.645578377), (-5.645507162, 6.35438816), (-5.975392301, 6.045220165))
        make_face()
        with Locations(Location((0, 0, 0), (0, 0, 270))):
            Circle(SKETCH1_R, mode=Mode.SUBTRACT)
    extrude(amount=BOSS_EXTRUDE1_DEPTH)

    # Sketch2 → Boss-Extrude2 (add)
    with BuildSketch(Plane.XZ):
        with Locations(Location((0, 0, 0), (0, 0, 90))):
            Circle(SKETCH2_R)
    extrude(amount=BOSS_EXTRUDE2_DEPTH)


with BuildPart() as part_1:
    # Ölçek2: scaled about (0, 0.855834843, 0)
    add(part.part.scale(L_EK2_SCALE).moved(Location((0, -0.855834843, 0))))


solid = part_1.part
